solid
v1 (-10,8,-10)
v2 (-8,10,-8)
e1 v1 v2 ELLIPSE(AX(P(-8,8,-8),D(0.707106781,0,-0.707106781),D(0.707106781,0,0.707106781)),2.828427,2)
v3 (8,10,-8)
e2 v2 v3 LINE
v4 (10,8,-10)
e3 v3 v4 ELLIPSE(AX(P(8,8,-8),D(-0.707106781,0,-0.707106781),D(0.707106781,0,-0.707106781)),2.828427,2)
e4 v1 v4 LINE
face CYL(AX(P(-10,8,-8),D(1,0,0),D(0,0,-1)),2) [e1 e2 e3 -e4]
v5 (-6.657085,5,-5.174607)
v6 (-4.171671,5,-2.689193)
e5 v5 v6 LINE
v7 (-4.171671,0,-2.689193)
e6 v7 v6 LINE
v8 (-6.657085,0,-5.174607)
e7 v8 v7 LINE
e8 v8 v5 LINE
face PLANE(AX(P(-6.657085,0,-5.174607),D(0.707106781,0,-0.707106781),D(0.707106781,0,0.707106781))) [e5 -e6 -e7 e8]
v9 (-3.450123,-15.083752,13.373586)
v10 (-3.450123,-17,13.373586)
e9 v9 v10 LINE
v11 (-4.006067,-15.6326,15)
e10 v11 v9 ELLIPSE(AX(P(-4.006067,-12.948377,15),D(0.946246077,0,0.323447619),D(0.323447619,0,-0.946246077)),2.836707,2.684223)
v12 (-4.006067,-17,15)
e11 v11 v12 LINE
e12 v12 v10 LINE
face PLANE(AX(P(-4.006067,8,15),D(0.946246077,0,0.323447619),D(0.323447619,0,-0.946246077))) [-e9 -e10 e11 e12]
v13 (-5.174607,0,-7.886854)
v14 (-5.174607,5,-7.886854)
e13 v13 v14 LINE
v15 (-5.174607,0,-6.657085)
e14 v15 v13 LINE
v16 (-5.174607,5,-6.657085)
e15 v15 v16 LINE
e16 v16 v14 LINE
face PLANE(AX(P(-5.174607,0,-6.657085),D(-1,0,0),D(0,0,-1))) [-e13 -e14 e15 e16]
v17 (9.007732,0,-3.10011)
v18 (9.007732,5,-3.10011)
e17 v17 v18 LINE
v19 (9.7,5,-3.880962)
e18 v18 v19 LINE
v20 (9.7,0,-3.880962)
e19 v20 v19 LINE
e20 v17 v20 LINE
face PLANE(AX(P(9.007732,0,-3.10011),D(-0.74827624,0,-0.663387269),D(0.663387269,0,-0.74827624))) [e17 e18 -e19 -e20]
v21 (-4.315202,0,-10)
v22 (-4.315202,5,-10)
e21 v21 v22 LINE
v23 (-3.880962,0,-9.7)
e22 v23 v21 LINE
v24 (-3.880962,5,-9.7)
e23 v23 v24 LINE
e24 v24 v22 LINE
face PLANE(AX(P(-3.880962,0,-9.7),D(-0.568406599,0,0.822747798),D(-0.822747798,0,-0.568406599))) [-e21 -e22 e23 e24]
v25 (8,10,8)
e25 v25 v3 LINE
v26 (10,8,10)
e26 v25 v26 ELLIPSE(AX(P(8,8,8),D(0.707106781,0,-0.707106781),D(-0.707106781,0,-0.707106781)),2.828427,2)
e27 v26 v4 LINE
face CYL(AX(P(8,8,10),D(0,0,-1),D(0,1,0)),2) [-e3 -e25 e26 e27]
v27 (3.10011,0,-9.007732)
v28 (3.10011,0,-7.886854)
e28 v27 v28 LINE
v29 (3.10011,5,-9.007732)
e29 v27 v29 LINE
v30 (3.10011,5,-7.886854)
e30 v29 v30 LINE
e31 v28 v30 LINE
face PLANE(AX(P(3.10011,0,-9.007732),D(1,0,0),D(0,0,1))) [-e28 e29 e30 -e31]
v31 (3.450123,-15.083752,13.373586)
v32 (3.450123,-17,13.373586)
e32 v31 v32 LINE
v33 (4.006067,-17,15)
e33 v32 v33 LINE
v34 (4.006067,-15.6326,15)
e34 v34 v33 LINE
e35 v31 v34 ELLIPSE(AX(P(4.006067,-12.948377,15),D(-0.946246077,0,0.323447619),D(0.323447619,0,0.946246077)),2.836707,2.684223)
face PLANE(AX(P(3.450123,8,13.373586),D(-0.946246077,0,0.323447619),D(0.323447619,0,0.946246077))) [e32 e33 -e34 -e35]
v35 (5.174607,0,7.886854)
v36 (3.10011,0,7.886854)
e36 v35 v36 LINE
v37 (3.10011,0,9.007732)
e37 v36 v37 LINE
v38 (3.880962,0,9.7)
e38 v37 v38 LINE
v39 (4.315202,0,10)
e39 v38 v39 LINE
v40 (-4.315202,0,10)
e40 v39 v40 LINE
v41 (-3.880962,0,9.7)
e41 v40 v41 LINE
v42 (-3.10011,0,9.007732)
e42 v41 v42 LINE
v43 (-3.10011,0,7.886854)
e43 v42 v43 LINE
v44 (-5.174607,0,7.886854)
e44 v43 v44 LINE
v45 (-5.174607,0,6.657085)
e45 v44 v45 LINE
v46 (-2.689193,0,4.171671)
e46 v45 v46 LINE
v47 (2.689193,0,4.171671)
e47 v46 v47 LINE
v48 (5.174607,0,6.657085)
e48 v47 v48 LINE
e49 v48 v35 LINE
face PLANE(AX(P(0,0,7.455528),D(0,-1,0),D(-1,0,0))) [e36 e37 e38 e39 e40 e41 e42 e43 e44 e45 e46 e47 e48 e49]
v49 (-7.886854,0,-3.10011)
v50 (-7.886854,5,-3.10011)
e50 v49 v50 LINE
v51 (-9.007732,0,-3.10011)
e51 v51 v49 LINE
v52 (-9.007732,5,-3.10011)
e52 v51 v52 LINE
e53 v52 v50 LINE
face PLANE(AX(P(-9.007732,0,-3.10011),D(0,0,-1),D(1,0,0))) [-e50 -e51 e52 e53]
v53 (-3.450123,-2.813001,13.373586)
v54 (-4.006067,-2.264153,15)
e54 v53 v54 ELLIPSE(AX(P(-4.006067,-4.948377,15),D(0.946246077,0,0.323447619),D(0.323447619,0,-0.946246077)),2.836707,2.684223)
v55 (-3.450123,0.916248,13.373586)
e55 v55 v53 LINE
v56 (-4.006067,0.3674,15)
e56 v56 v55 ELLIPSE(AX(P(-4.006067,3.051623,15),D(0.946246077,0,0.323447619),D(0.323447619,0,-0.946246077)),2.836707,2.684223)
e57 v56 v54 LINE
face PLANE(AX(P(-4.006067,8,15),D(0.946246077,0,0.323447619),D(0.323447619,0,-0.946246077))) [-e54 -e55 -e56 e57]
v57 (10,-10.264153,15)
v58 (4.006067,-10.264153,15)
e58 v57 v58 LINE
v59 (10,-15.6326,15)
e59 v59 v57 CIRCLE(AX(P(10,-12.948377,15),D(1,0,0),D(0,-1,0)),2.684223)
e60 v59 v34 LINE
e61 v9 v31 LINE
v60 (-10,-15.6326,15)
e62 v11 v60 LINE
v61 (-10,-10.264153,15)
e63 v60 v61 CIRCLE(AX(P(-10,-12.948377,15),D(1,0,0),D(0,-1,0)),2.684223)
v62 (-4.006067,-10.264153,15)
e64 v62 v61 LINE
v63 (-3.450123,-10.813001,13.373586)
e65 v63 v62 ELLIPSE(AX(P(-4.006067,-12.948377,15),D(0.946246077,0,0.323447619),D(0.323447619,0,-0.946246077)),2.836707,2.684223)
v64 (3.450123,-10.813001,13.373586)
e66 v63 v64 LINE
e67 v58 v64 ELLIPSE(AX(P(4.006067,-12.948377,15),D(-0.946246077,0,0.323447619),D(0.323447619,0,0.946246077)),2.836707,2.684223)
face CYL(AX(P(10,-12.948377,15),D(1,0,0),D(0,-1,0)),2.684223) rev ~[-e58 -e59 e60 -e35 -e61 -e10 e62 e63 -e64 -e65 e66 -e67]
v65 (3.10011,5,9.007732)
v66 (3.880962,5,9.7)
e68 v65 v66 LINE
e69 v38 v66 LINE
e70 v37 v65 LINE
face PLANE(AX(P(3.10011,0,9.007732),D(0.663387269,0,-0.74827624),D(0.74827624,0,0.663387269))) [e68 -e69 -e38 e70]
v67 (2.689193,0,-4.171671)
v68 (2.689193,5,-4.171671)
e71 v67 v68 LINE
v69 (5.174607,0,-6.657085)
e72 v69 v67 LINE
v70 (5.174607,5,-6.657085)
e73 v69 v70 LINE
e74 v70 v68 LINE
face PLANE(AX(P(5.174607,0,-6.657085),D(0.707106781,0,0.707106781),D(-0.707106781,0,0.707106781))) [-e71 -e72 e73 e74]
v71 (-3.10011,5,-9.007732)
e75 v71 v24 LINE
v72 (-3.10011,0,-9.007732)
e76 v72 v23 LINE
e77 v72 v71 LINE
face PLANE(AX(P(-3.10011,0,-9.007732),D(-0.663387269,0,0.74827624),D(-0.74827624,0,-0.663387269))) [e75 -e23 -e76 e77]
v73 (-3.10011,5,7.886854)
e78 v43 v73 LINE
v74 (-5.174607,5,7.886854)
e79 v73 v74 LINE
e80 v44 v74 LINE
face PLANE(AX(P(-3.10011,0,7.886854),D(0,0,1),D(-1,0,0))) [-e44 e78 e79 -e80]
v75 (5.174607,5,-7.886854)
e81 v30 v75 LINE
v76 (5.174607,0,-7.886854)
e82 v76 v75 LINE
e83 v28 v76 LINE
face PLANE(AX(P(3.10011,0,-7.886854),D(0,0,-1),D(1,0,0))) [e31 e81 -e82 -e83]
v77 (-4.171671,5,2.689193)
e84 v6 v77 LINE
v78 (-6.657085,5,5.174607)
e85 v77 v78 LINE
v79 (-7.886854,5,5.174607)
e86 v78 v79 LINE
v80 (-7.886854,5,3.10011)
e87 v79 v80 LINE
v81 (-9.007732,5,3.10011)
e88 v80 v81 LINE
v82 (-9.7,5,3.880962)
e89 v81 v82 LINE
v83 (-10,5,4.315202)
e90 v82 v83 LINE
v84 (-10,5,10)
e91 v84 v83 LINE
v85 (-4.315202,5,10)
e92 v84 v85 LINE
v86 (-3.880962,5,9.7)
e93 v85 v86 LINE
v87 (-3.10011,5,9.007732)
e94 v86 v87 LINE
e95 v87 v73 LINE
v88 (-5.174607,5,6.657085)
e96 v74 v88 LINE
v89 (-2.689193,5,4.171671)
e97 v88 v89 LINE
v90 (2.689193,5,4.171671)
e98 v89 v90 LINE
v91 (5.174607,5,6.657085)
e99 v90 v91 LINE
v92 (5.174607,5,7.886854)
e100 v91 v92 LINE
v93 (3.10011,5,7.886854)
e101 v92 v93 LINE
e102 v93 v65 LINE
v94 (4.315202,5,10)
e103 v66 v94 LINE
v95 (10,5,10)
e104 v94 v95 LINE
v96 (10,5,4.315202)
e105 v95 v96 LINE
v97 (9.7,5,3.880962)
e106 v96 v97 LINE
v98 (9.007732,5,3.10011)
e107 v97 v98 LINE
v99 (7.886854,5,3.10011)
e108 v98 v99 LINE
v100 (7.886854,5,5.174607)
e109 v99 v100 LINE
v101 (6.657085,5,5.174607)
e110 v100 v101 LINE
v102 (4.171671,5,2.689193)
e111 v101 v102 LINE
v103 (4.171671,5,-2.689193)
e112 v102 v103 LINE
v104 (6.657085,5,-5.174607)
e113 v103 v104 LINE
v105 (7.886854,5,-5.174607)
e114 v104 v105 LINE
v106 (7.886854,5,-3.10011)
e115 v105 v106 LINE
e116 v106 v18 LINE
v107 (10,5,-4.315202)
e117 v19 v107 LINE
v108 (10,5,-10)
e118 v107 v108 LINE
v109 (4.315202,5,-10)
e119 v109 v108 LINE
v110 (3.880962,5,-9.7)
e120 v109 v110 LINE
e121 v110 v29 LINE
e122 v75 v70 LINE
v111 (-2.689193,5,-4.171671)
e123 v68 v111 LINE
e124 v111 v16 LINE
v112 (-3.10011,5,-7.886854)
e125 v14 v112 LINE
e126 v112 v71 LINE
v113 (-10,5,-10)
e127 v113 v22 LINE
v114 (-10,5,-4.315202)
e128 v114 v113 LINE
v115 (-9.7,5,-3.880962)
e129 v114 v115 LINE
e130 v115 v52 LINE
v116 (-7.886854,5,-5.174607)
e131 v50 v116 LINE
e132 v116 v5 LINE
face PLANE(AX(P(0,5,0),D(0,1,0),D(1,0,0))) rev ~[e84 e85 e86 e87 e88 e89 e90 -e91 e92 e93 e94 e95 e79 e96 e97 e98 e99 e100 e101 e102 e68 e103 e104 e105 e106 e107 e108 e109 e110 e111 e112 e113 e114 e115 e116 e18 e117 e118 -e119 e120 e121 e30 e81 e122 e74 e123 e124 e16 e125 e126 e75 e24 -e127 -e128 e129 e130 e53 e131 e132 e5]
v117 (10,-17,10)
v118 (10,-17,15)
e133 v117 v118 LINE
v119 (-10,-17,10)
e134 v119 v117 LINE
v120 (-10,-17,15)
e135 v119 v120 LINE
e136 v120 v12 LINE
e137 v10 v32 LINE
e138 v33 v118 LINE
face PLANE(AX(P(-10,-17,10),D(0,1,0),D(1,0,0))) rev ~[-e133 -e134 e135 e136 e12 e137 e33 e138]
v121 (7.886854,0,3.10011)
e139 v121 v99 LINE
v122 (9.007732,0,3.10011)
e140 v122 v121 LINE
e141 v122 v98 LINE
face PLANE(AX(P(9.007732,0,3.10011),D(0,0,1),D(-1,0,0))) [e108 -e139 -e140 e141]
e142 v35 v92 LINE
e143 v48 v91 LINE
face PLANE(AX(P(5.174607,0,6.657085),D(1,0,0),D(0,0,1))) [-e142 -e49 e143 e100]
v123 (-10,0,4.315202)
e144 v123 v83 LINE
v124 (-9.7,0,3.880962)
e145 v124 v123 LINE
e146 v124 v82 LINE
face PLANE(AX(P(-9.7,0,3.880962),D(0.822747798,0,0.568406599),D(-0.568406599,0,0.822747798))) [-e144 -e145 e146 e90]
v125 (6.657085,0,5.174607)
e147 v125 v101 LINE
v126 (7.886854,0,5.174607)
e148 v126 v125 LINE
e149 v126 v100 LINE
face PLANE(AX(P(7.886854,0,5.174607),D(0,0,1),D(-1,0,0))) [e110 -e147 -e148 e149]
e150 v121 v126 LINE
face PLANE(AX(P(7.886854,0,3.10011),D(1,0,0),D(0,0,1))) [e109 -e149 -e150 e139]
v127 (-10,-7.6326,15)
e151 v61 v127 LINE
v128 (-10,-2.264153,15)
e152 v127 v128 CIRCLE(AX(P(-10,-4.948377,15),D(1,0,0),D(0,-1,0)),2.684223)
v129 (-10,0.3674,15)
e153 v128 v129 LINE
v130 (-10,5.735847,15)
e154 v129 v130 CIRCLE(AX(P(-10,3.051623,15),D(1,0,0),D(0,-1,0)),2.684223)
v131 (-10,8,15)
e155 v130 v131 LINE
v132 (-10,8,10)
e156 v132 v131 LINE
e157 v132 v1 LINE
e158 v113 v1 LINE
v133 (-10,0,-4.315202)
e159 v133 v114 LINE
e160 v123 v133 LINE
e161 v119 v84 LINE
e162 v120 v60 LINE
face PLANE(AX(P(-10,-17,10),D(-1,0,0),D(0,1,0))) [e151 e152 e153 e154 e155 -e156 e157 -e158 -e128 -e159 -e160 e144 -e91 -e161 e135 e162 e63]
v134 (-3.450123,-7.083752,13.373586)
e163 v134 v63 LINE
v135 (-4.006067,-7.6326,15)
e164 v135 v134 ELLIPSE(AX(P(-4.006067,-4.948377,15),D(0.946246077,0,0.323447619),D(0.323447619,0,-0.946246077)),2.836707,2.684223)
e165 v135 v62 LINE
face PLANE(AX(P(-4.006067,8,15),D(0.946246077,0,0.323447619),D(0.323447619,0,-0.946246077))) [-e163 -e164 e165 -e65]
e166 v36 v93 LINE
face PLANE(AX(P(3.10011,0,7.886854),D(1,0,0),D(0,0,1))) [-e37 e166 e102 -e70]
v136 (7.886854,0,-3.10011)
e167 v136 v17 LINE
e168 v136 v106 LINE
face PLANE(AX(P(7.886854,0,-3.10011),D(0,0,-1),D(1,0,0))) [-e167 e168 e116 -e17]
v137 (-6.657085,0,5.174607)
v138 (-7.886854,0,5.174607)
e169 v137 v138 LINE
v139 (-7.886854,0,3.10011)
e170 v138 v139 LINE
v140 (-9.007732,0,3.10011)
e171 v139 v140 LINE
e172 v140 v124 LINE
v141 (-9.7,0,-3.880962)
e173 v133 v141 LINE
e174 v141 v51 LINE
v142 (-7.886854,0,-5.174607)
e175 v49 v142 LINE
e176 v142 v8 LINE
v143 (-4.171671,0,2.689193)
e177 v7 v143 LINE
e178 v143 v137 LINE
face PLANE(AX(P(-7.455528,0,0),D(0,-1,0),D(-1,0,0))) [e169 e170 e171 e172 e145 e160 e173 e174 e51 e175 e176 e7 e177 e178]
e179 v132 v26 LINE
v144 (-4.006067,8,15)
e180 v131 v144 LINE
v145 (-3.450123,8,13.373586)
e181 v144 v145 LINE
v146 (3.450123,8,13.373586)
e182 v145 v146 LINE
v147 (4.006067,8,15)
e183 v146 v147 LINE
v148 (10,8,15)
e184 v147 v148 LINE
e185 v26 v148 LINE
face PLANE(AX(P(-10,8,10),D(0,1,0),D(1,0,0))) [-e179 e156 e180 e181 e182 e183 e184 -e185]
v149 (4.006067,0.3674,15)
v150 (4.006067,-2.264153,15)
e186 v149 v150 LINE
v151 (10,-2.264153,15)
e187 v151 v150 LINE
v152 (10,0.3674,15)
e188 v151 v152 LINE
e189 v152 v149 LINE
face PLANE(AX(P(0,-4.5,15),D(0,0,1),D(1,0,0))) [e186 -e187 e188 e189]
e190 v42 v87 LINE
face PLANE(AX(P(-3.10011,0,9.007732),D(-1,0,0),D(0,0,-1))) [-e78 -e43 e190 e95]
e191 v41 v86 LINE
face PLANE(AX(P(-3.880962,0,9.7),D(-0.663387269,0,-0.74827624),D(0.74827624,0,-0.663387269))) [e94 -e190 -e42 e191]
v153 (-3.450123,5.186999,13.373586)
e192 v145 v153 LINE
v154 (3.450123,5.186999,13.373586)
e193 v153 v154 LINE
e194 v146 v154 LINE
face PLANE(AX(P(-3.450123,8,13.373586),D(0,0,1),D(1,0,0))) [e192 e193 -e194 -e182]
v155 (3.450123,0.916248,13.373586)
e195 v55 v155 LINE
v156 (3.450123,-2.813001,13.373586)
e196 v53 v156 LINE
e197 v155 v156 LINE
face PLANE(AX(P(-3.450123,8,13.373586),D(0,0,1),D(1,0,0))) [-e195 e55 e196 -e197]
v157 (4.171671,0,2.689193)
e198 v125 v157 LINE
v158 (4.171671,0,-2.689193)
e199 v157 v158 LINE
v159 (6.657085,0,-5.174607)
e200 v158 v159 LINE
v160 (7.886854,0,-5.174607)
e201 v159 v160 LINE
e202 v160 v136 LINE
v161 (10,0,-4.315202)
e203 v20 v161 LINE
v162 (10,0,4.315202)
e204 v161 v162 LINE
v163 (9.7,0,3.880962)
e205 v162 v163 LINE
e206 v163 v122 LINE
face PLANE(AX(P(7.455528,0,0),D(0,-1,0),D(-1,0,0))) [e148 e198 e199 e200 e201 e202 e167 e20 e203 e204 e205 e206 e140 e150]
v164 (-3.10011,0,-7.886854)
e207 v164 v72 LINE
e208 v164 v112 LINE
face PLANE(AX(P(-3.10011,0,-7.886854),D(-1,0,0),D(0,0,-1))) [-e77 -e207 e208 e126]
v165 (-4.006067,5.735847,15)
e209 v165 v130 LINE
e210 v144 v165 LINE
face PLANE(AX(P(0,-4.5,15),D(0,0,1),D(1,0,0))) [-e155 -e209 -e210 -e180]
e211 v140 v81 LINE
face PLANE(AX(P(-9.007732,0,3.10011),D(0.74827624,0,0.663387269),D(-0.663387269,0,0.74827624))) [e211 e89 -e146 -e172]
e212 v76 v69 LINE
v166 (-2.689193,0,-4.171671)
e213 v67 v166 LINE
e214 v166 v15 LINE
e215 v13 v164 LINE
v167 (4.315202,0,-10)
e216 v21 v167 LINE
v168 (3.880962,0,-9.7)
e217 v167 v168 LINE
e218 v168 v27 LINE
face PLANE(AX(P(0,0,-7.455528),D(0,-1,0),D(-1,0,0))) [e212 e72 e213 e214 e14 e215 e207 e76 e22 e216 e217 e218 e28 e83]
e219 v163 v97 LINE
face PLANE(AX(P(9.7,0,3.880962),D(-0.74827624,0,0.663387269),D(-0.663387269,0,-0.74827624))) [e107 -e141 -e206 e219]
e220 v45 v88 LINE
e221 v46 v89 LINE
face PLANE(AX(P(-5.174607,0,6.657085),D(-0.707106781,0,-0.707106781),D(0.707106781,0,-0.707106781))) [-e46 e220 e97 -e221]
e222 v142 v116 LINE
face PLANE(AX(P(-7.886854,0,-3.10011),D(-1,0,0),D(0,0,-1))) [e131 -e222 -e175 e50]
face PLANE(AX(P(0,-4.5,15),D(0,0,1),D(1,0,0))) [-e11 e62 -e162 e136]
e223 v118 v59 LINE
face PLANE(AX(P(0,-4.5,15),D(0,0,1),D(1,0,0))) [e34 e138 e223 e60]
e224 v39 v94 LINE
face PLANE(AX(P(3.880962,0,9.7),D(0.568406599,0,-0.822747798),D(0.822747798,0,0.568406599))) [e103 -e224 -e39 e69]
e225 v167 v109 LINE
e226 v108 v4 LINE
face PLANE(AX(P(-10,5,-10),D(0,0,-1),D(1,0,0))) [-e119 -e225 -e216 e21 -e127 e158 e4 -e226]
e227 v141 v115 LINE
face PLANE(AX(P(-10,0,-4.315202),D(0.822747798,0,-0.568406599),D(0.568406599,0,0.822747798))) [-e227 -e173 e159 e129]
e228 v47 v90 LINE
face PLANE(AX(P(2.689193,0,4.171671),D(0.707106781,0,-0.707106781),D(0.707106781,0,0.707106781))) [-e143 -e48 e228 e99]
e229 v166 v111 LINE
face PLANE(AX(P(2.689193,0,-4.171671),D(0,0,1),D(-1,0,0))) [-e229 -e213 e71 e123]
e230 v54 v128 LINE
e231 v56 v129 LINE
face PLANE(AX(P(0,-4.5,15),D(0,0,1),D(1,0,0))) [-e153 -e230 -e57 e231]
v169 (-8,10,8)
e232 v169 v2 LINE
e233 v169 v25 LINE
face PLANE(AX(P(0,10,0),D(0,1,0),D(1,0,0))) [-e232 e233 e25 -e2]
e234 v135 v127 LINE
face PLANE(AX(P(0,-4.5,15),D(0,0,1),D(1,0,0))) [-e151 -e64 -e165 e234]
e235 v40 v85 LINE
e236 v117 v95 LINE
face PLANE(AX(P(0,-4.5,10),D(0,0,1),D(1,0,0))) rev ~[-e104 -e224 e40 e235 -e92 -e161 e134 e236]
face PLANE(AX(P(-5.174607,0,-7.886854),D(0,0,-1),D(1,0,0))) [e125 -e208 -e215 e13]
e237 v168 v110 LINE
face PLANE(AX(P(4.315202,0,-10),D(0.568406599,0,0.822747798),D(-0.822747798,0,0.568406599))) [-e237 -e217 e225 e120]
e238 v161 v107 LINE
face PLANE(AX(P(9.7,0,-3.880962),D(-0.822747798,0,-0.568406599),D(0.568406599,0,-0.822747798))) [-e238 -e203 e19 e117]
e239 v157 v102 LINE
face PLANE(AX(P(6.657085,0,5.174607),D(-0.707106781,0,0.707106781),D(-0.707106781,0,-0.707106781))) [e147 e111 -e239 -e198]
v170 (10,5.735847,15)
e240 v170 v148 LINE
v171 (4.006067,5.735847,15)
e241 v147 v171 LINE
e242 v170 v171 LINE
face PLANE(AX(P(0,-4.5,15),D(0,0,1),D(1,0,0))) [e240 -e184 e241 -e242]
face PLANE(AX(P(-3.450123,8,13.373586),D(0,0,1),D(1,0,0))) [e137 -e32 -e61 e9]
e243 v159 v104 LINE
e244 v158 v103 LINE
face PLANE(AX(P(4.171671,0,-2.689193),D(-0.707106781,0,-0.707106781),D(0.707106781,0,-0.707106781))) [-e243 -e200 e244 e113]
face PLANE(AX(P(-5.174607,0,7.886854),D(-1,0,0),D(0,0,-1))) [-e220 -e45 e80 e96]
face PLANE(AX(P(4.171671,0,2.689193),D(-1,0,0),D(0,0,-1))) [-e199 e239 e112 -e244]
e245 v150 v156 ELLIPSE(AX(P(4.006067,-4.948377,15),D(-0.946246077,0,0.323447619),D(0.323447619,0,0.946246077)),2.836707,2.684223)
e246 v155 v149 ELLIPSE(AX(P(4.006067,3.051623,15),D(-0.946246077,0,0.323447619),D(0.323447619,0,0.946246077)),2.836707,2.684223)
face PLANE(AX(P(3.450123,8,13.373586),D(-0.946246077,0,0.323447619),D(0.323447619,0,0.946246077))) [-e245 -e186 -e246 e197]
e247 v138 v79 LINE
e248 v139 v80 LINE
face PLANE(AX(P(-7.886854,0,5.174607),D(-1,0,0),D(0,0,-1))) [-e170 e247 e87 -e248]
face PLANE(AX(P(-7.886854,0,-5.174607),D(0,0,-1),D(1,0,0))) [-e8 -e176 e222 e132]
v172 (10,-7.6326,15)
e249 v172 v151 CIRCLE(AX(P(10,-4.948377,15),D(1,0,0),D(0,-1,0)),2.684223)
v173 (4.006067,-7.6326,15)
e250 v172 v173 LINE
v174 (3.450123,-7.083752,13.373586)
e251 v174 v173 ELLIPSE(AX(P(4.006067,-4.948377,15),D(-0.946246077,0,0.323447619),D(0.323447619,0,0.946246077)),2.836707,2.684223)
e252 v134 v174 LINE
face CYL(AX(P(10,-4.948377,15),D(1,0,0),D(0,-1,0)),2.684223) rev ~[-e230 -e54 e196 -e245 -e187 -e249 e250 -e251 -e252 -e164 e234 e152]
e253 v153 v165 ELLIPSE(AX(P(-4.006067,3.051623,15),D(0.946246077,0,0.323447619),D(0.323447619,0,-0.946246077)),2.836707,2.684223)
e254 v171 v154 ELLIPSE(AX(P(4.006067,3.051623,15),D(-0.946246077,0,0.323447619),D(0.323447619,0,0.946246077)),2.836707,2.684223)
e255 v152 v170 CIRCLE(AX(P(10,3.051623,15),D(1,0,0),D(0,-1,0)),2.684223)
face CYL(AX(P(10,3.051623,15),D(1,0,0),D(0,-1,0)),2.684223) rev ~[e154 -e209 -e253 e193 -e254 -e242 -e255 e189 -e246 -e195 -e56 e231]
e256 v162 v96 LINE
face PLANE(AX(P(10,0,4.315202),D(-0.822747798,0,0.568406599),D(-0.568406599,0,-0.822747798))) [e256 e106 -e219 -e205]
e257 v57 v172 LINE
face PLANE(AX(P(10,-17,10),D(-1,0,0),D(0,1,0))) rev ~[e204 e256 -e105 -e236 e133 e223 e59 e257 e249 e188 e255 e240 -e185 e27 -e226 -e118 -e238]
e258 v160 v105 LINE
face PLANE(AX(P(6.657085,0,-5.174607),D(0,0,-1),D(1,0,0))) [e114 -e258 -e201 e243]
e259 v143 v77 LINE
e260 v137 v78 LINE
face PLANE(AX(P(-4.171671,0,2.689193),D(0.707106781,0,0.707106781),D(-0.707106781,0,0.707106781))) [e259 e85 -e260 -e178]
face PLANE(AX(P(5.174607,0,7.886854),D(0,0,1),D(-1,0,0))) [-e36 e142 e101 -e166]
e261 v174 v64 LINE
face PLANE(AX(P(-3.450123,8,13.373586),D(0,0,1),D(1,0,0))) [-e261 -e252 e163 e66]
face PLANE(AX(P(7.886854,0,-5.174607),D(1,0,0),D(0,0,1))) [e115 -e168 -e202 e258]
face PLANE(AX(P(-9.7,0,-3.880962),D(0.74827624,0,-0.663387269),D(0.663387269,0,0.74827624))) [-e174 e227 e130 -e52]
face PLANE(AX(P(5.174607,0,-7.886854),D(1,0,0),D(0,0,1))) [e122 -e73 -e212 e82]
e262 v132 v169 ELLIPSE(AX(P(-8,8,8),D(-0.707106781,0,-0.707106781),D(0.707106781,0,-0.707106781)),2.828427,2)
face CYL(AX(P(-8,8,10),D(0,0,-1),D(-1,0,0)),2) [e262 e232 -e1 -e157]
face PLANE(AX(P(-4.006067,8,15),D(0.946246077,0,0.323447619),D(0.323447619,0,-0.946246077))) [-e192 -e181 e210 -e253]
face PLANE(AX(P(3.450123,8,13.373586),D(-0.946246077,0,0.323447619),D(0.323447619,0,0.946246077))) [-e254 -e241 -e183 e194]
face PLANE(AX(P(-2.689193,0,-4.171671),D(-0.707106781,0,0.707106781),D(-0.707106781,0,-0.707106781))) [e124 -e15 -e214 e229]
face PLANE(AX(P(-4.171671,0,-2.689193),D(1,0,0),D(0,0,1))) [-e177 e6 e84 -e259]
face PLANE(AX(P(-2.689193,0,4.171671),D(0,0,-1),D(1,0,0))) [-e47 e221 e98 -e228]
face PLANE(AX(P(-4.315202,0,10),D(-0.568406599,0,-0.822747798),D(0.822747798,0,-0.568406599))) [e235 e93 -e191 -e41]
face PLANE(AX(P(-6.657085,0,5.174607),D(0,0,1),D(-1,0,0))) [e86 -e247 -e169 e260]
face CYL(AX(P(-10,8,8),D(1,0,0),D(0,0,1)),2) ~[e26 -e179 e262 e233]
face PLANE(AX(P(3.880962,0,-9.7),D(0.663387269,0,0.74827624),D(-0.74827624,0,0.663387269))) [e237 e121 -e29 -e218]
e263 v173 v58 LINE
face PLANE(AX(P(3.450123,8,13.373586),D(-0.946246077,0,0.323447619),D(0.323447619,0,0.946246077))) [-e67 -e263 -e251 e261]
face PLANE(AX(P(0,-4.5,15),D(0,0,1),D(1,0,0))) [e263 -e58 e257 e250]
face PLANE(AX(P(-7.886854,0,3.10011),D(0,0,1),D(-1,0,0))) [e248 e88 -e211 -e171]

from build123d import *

# Parameters (mm, degrees)
SALIENTE_EXTRUIR1_DEPTH   = 5
SALIENTE_EXTRUIR1_2_DEPTH = 5
SALIENTE_EXTRUIR1_3_DEPTH = 5
SALIENTE_EXTRUIR1_4_DEPTH = 5
CROQUIS3_W                = 20
CROQUIS3_H                = 20
SALIENTE_EXTRUIR2_DEPTH   = 5
REDONDEO1_R               = 2
CROQUIS4_W                = 20
CROQUIS4_H                = 25
SALIENTE_EXTRUIR3_DEPTH   = 5
CORTAR_EXTRUIR1_DEPTH     = 31.822070015
CORTAR_EXTRUIR2_DEPTH     = 31.232432916


with BuildPart() as part:
    # Croquis2 → Saliente-Extruir1 (new body)
    with BuildSketch(Plane(origin=(0, 0, 0), x_dir=(1, 0, 0), z_dir=(0, 1, 0))):
        Polygon((-3.880962474, 9.7), (-4.31520152, 10), (4.31520152, 10), (3.880962474, 9.7), (3.100109842, 9.007732001), (3.100109842, 7.886854264), (5.174607071, 7.886854264), (5.174607071, 6.657084853), (2.689193029, 4.171670811), (-2.689193029, 4.171670811), (-5.174607071, 6.657084853), (-5.174607071, 7.886854264), (-3.100109842, 7.886854264), (-3.100109842, 9.007732001), align=None)
    extrude(amount=SALIENTE_EXTRUIR1_DEPTH)



with BuildPart() as body_2:
    # Croquis2 → Saliente-Extruir1 2 (new body)
    with BuildSketch(Plane(origin=(0, 0, 0), x_dir=(1, 0, 0), z_dir=(0, 1, 0))):
        Polygon((10, 4.31520152), (10, -4.31520152), (9.7, -3.880962474), (9.007732001, -3.100109842), (7.886854264, -3.100109842), (7.886854264, -5.174607071), (6.657084853, -5.174607071), (4.171670811, -2.689193029), (4.171670811, 2.689193029), (6.657084853, 5.174607071), (7.886854264, 5.174607071), (7.886854264, 3.100109842), (9.007732001, 3.100109842), (9.7, 3.880962474), align=None)
    extrude(amount=SALIENTE_EXTRUIR1_2_DEPTH)


with BuildPart() as body_3:
    # Croquis2 → Saliente-Extruir1 3 (new body)
    with BuildSketch(Plane(origin=(0, 0, 0), x_dir=(1, 0, 0), z_dir=(0, 1, 0))):
        Polygon((4.31520152, -10), (-4.31520152, -10), (-3.880962474, -9.7), (-3.100109842, -9.007732001), (-3.100109842, -7.886854264), (-5.174607071, -7.886854264), (-5.174607071, -6.657084853), (-2.689193029, -4.171670811), (2.689193029, -4.171670811), (5.174607071, -6.657084853), (5.174607071, -7.886854264), (3.100109842, -7.886854264), (3.100109842, -9.007732001), (3.880962474, -9.7), align=None)
    extrude(amount=SALIENTE_EXTRUIR1_3_DEPTH)


with BuildPart() as body_4:
    # Croquis2 → Saliente-Extruir1 4 (new body)
    with BuildSketch(Plane(origin=(0, 0, 0), x_dir=(1, 0, 0), z_dir=(0, 1, 0))):
        Polygon((-10, -4.31520152), (-10, 4.31520152), (-9.7, 3.880962474), (-9.007732001, 3.100109842), (-7.886854264, 3.100109842), (-7.886854264, 5.174607071), (-6.657084853, 5.174607071), (-4.171670811, 2.689193029), (-4.171670811, -2.689193029), (-6.657084853, -5.174607071), (-7.886854264, -5.174607071), (-7.886854264, -3.100109842), (-9.007732001, -3.100109842), (-9.7, -3.880962474), align=None)
    extrude(amount=SALIENTE_EXTRUIR1_4_DEPTH)


with BuildPart() as part_1:
    add(part.part)

    add(body_2.part)  # Saliente-Extruir2 merges body 2

    add(body_3.part)  # Saliente-Extruir2 merges body 3

    add(body_4.part)  # Saliente-Extruir2 merges body 4
    # Croquis3 → Saliente-Extruir2 (add)
    with BuildSketch(Plane(origin=(0, 5, 0), x_dir=(1, 0, 0), z_dir=(0, 1, 0))):
        Rectangle(CROQUIS3_W, CROQUIS3_H)
    extrude(amount=SALIENTE_EXTRUIR2_DEPTH)

    # Redondeo1
    redondeo1_edges = [part_1.edges().sort_by_distance(p)[0] for p in [
        (10, 10, 0),
        (0, 10, -10),
        (-10, 10, 0),
        (0, 10, 10),
    ]]
    fillet(redondeo1_edges, radius=REDONDEO1_R)

    # Croquis4 → Saliente-Extruir3 (add)
    with BuildSketch(Plane.XY.offset(10)):
        with Locations((0, -4.5)):
            Rectangle(CROQUIS4_W, CROQUIS4_H)
    extrude(amount=SALIENTE_EXTRUIR3_DEPTH)

    # Croquis5 → Cortar-Extruir1 (cut, through all)
    with BuildSketch(Plane(origin=(0, 8, 0), x_dir=(1, 0, 0), z_dir=(0, 1, 0))):
        Polygon((4.006067099, -15), (-4.006067099, -15), (-3.450123093, -13.373585697), (3.450123093, -13.373585697), align=None)
    extrude(amount=-CORTAR_EXTRUIR1_DEPTH, mode=Mode.SUBTRACT)

    # Croquis6 → Cortar-Extruir2 (cut, through all)
    with BuildSketch(Plane(origin=(10, 0, 0), x_dir=(0, 0, -1), z_dir=(1, 0, 0))):
        with BuildLine():
            Line((-15, 5.73584659), (-15, 0.367400389))
            ThreePointArc((-15, 0.367400389), (-12.315776899, 3.051623489), (-15, 5.73584659))
        make_face()
        with BuildLine():
            Line((-15, -2.26415341), (-15, -7.632599611))
            ThreePointArc((-15, -7.632599611), (-12.315776899, -4.948376511), (-15, -2.26415341))
        make_face()
        with BuildLine():
            Line((-15, -10.26415341), (-15, -15.632599611))
            ThreePointArc((-15, -15.632599611), (-12.315776899, -12.948376511), (-15, -10.26415341))
        make_face()
    extrude(amount=-CORTAR_EXTRUIR2_DEPTH, mode=Mode.SUBTRACT)


solid = part_1.part
